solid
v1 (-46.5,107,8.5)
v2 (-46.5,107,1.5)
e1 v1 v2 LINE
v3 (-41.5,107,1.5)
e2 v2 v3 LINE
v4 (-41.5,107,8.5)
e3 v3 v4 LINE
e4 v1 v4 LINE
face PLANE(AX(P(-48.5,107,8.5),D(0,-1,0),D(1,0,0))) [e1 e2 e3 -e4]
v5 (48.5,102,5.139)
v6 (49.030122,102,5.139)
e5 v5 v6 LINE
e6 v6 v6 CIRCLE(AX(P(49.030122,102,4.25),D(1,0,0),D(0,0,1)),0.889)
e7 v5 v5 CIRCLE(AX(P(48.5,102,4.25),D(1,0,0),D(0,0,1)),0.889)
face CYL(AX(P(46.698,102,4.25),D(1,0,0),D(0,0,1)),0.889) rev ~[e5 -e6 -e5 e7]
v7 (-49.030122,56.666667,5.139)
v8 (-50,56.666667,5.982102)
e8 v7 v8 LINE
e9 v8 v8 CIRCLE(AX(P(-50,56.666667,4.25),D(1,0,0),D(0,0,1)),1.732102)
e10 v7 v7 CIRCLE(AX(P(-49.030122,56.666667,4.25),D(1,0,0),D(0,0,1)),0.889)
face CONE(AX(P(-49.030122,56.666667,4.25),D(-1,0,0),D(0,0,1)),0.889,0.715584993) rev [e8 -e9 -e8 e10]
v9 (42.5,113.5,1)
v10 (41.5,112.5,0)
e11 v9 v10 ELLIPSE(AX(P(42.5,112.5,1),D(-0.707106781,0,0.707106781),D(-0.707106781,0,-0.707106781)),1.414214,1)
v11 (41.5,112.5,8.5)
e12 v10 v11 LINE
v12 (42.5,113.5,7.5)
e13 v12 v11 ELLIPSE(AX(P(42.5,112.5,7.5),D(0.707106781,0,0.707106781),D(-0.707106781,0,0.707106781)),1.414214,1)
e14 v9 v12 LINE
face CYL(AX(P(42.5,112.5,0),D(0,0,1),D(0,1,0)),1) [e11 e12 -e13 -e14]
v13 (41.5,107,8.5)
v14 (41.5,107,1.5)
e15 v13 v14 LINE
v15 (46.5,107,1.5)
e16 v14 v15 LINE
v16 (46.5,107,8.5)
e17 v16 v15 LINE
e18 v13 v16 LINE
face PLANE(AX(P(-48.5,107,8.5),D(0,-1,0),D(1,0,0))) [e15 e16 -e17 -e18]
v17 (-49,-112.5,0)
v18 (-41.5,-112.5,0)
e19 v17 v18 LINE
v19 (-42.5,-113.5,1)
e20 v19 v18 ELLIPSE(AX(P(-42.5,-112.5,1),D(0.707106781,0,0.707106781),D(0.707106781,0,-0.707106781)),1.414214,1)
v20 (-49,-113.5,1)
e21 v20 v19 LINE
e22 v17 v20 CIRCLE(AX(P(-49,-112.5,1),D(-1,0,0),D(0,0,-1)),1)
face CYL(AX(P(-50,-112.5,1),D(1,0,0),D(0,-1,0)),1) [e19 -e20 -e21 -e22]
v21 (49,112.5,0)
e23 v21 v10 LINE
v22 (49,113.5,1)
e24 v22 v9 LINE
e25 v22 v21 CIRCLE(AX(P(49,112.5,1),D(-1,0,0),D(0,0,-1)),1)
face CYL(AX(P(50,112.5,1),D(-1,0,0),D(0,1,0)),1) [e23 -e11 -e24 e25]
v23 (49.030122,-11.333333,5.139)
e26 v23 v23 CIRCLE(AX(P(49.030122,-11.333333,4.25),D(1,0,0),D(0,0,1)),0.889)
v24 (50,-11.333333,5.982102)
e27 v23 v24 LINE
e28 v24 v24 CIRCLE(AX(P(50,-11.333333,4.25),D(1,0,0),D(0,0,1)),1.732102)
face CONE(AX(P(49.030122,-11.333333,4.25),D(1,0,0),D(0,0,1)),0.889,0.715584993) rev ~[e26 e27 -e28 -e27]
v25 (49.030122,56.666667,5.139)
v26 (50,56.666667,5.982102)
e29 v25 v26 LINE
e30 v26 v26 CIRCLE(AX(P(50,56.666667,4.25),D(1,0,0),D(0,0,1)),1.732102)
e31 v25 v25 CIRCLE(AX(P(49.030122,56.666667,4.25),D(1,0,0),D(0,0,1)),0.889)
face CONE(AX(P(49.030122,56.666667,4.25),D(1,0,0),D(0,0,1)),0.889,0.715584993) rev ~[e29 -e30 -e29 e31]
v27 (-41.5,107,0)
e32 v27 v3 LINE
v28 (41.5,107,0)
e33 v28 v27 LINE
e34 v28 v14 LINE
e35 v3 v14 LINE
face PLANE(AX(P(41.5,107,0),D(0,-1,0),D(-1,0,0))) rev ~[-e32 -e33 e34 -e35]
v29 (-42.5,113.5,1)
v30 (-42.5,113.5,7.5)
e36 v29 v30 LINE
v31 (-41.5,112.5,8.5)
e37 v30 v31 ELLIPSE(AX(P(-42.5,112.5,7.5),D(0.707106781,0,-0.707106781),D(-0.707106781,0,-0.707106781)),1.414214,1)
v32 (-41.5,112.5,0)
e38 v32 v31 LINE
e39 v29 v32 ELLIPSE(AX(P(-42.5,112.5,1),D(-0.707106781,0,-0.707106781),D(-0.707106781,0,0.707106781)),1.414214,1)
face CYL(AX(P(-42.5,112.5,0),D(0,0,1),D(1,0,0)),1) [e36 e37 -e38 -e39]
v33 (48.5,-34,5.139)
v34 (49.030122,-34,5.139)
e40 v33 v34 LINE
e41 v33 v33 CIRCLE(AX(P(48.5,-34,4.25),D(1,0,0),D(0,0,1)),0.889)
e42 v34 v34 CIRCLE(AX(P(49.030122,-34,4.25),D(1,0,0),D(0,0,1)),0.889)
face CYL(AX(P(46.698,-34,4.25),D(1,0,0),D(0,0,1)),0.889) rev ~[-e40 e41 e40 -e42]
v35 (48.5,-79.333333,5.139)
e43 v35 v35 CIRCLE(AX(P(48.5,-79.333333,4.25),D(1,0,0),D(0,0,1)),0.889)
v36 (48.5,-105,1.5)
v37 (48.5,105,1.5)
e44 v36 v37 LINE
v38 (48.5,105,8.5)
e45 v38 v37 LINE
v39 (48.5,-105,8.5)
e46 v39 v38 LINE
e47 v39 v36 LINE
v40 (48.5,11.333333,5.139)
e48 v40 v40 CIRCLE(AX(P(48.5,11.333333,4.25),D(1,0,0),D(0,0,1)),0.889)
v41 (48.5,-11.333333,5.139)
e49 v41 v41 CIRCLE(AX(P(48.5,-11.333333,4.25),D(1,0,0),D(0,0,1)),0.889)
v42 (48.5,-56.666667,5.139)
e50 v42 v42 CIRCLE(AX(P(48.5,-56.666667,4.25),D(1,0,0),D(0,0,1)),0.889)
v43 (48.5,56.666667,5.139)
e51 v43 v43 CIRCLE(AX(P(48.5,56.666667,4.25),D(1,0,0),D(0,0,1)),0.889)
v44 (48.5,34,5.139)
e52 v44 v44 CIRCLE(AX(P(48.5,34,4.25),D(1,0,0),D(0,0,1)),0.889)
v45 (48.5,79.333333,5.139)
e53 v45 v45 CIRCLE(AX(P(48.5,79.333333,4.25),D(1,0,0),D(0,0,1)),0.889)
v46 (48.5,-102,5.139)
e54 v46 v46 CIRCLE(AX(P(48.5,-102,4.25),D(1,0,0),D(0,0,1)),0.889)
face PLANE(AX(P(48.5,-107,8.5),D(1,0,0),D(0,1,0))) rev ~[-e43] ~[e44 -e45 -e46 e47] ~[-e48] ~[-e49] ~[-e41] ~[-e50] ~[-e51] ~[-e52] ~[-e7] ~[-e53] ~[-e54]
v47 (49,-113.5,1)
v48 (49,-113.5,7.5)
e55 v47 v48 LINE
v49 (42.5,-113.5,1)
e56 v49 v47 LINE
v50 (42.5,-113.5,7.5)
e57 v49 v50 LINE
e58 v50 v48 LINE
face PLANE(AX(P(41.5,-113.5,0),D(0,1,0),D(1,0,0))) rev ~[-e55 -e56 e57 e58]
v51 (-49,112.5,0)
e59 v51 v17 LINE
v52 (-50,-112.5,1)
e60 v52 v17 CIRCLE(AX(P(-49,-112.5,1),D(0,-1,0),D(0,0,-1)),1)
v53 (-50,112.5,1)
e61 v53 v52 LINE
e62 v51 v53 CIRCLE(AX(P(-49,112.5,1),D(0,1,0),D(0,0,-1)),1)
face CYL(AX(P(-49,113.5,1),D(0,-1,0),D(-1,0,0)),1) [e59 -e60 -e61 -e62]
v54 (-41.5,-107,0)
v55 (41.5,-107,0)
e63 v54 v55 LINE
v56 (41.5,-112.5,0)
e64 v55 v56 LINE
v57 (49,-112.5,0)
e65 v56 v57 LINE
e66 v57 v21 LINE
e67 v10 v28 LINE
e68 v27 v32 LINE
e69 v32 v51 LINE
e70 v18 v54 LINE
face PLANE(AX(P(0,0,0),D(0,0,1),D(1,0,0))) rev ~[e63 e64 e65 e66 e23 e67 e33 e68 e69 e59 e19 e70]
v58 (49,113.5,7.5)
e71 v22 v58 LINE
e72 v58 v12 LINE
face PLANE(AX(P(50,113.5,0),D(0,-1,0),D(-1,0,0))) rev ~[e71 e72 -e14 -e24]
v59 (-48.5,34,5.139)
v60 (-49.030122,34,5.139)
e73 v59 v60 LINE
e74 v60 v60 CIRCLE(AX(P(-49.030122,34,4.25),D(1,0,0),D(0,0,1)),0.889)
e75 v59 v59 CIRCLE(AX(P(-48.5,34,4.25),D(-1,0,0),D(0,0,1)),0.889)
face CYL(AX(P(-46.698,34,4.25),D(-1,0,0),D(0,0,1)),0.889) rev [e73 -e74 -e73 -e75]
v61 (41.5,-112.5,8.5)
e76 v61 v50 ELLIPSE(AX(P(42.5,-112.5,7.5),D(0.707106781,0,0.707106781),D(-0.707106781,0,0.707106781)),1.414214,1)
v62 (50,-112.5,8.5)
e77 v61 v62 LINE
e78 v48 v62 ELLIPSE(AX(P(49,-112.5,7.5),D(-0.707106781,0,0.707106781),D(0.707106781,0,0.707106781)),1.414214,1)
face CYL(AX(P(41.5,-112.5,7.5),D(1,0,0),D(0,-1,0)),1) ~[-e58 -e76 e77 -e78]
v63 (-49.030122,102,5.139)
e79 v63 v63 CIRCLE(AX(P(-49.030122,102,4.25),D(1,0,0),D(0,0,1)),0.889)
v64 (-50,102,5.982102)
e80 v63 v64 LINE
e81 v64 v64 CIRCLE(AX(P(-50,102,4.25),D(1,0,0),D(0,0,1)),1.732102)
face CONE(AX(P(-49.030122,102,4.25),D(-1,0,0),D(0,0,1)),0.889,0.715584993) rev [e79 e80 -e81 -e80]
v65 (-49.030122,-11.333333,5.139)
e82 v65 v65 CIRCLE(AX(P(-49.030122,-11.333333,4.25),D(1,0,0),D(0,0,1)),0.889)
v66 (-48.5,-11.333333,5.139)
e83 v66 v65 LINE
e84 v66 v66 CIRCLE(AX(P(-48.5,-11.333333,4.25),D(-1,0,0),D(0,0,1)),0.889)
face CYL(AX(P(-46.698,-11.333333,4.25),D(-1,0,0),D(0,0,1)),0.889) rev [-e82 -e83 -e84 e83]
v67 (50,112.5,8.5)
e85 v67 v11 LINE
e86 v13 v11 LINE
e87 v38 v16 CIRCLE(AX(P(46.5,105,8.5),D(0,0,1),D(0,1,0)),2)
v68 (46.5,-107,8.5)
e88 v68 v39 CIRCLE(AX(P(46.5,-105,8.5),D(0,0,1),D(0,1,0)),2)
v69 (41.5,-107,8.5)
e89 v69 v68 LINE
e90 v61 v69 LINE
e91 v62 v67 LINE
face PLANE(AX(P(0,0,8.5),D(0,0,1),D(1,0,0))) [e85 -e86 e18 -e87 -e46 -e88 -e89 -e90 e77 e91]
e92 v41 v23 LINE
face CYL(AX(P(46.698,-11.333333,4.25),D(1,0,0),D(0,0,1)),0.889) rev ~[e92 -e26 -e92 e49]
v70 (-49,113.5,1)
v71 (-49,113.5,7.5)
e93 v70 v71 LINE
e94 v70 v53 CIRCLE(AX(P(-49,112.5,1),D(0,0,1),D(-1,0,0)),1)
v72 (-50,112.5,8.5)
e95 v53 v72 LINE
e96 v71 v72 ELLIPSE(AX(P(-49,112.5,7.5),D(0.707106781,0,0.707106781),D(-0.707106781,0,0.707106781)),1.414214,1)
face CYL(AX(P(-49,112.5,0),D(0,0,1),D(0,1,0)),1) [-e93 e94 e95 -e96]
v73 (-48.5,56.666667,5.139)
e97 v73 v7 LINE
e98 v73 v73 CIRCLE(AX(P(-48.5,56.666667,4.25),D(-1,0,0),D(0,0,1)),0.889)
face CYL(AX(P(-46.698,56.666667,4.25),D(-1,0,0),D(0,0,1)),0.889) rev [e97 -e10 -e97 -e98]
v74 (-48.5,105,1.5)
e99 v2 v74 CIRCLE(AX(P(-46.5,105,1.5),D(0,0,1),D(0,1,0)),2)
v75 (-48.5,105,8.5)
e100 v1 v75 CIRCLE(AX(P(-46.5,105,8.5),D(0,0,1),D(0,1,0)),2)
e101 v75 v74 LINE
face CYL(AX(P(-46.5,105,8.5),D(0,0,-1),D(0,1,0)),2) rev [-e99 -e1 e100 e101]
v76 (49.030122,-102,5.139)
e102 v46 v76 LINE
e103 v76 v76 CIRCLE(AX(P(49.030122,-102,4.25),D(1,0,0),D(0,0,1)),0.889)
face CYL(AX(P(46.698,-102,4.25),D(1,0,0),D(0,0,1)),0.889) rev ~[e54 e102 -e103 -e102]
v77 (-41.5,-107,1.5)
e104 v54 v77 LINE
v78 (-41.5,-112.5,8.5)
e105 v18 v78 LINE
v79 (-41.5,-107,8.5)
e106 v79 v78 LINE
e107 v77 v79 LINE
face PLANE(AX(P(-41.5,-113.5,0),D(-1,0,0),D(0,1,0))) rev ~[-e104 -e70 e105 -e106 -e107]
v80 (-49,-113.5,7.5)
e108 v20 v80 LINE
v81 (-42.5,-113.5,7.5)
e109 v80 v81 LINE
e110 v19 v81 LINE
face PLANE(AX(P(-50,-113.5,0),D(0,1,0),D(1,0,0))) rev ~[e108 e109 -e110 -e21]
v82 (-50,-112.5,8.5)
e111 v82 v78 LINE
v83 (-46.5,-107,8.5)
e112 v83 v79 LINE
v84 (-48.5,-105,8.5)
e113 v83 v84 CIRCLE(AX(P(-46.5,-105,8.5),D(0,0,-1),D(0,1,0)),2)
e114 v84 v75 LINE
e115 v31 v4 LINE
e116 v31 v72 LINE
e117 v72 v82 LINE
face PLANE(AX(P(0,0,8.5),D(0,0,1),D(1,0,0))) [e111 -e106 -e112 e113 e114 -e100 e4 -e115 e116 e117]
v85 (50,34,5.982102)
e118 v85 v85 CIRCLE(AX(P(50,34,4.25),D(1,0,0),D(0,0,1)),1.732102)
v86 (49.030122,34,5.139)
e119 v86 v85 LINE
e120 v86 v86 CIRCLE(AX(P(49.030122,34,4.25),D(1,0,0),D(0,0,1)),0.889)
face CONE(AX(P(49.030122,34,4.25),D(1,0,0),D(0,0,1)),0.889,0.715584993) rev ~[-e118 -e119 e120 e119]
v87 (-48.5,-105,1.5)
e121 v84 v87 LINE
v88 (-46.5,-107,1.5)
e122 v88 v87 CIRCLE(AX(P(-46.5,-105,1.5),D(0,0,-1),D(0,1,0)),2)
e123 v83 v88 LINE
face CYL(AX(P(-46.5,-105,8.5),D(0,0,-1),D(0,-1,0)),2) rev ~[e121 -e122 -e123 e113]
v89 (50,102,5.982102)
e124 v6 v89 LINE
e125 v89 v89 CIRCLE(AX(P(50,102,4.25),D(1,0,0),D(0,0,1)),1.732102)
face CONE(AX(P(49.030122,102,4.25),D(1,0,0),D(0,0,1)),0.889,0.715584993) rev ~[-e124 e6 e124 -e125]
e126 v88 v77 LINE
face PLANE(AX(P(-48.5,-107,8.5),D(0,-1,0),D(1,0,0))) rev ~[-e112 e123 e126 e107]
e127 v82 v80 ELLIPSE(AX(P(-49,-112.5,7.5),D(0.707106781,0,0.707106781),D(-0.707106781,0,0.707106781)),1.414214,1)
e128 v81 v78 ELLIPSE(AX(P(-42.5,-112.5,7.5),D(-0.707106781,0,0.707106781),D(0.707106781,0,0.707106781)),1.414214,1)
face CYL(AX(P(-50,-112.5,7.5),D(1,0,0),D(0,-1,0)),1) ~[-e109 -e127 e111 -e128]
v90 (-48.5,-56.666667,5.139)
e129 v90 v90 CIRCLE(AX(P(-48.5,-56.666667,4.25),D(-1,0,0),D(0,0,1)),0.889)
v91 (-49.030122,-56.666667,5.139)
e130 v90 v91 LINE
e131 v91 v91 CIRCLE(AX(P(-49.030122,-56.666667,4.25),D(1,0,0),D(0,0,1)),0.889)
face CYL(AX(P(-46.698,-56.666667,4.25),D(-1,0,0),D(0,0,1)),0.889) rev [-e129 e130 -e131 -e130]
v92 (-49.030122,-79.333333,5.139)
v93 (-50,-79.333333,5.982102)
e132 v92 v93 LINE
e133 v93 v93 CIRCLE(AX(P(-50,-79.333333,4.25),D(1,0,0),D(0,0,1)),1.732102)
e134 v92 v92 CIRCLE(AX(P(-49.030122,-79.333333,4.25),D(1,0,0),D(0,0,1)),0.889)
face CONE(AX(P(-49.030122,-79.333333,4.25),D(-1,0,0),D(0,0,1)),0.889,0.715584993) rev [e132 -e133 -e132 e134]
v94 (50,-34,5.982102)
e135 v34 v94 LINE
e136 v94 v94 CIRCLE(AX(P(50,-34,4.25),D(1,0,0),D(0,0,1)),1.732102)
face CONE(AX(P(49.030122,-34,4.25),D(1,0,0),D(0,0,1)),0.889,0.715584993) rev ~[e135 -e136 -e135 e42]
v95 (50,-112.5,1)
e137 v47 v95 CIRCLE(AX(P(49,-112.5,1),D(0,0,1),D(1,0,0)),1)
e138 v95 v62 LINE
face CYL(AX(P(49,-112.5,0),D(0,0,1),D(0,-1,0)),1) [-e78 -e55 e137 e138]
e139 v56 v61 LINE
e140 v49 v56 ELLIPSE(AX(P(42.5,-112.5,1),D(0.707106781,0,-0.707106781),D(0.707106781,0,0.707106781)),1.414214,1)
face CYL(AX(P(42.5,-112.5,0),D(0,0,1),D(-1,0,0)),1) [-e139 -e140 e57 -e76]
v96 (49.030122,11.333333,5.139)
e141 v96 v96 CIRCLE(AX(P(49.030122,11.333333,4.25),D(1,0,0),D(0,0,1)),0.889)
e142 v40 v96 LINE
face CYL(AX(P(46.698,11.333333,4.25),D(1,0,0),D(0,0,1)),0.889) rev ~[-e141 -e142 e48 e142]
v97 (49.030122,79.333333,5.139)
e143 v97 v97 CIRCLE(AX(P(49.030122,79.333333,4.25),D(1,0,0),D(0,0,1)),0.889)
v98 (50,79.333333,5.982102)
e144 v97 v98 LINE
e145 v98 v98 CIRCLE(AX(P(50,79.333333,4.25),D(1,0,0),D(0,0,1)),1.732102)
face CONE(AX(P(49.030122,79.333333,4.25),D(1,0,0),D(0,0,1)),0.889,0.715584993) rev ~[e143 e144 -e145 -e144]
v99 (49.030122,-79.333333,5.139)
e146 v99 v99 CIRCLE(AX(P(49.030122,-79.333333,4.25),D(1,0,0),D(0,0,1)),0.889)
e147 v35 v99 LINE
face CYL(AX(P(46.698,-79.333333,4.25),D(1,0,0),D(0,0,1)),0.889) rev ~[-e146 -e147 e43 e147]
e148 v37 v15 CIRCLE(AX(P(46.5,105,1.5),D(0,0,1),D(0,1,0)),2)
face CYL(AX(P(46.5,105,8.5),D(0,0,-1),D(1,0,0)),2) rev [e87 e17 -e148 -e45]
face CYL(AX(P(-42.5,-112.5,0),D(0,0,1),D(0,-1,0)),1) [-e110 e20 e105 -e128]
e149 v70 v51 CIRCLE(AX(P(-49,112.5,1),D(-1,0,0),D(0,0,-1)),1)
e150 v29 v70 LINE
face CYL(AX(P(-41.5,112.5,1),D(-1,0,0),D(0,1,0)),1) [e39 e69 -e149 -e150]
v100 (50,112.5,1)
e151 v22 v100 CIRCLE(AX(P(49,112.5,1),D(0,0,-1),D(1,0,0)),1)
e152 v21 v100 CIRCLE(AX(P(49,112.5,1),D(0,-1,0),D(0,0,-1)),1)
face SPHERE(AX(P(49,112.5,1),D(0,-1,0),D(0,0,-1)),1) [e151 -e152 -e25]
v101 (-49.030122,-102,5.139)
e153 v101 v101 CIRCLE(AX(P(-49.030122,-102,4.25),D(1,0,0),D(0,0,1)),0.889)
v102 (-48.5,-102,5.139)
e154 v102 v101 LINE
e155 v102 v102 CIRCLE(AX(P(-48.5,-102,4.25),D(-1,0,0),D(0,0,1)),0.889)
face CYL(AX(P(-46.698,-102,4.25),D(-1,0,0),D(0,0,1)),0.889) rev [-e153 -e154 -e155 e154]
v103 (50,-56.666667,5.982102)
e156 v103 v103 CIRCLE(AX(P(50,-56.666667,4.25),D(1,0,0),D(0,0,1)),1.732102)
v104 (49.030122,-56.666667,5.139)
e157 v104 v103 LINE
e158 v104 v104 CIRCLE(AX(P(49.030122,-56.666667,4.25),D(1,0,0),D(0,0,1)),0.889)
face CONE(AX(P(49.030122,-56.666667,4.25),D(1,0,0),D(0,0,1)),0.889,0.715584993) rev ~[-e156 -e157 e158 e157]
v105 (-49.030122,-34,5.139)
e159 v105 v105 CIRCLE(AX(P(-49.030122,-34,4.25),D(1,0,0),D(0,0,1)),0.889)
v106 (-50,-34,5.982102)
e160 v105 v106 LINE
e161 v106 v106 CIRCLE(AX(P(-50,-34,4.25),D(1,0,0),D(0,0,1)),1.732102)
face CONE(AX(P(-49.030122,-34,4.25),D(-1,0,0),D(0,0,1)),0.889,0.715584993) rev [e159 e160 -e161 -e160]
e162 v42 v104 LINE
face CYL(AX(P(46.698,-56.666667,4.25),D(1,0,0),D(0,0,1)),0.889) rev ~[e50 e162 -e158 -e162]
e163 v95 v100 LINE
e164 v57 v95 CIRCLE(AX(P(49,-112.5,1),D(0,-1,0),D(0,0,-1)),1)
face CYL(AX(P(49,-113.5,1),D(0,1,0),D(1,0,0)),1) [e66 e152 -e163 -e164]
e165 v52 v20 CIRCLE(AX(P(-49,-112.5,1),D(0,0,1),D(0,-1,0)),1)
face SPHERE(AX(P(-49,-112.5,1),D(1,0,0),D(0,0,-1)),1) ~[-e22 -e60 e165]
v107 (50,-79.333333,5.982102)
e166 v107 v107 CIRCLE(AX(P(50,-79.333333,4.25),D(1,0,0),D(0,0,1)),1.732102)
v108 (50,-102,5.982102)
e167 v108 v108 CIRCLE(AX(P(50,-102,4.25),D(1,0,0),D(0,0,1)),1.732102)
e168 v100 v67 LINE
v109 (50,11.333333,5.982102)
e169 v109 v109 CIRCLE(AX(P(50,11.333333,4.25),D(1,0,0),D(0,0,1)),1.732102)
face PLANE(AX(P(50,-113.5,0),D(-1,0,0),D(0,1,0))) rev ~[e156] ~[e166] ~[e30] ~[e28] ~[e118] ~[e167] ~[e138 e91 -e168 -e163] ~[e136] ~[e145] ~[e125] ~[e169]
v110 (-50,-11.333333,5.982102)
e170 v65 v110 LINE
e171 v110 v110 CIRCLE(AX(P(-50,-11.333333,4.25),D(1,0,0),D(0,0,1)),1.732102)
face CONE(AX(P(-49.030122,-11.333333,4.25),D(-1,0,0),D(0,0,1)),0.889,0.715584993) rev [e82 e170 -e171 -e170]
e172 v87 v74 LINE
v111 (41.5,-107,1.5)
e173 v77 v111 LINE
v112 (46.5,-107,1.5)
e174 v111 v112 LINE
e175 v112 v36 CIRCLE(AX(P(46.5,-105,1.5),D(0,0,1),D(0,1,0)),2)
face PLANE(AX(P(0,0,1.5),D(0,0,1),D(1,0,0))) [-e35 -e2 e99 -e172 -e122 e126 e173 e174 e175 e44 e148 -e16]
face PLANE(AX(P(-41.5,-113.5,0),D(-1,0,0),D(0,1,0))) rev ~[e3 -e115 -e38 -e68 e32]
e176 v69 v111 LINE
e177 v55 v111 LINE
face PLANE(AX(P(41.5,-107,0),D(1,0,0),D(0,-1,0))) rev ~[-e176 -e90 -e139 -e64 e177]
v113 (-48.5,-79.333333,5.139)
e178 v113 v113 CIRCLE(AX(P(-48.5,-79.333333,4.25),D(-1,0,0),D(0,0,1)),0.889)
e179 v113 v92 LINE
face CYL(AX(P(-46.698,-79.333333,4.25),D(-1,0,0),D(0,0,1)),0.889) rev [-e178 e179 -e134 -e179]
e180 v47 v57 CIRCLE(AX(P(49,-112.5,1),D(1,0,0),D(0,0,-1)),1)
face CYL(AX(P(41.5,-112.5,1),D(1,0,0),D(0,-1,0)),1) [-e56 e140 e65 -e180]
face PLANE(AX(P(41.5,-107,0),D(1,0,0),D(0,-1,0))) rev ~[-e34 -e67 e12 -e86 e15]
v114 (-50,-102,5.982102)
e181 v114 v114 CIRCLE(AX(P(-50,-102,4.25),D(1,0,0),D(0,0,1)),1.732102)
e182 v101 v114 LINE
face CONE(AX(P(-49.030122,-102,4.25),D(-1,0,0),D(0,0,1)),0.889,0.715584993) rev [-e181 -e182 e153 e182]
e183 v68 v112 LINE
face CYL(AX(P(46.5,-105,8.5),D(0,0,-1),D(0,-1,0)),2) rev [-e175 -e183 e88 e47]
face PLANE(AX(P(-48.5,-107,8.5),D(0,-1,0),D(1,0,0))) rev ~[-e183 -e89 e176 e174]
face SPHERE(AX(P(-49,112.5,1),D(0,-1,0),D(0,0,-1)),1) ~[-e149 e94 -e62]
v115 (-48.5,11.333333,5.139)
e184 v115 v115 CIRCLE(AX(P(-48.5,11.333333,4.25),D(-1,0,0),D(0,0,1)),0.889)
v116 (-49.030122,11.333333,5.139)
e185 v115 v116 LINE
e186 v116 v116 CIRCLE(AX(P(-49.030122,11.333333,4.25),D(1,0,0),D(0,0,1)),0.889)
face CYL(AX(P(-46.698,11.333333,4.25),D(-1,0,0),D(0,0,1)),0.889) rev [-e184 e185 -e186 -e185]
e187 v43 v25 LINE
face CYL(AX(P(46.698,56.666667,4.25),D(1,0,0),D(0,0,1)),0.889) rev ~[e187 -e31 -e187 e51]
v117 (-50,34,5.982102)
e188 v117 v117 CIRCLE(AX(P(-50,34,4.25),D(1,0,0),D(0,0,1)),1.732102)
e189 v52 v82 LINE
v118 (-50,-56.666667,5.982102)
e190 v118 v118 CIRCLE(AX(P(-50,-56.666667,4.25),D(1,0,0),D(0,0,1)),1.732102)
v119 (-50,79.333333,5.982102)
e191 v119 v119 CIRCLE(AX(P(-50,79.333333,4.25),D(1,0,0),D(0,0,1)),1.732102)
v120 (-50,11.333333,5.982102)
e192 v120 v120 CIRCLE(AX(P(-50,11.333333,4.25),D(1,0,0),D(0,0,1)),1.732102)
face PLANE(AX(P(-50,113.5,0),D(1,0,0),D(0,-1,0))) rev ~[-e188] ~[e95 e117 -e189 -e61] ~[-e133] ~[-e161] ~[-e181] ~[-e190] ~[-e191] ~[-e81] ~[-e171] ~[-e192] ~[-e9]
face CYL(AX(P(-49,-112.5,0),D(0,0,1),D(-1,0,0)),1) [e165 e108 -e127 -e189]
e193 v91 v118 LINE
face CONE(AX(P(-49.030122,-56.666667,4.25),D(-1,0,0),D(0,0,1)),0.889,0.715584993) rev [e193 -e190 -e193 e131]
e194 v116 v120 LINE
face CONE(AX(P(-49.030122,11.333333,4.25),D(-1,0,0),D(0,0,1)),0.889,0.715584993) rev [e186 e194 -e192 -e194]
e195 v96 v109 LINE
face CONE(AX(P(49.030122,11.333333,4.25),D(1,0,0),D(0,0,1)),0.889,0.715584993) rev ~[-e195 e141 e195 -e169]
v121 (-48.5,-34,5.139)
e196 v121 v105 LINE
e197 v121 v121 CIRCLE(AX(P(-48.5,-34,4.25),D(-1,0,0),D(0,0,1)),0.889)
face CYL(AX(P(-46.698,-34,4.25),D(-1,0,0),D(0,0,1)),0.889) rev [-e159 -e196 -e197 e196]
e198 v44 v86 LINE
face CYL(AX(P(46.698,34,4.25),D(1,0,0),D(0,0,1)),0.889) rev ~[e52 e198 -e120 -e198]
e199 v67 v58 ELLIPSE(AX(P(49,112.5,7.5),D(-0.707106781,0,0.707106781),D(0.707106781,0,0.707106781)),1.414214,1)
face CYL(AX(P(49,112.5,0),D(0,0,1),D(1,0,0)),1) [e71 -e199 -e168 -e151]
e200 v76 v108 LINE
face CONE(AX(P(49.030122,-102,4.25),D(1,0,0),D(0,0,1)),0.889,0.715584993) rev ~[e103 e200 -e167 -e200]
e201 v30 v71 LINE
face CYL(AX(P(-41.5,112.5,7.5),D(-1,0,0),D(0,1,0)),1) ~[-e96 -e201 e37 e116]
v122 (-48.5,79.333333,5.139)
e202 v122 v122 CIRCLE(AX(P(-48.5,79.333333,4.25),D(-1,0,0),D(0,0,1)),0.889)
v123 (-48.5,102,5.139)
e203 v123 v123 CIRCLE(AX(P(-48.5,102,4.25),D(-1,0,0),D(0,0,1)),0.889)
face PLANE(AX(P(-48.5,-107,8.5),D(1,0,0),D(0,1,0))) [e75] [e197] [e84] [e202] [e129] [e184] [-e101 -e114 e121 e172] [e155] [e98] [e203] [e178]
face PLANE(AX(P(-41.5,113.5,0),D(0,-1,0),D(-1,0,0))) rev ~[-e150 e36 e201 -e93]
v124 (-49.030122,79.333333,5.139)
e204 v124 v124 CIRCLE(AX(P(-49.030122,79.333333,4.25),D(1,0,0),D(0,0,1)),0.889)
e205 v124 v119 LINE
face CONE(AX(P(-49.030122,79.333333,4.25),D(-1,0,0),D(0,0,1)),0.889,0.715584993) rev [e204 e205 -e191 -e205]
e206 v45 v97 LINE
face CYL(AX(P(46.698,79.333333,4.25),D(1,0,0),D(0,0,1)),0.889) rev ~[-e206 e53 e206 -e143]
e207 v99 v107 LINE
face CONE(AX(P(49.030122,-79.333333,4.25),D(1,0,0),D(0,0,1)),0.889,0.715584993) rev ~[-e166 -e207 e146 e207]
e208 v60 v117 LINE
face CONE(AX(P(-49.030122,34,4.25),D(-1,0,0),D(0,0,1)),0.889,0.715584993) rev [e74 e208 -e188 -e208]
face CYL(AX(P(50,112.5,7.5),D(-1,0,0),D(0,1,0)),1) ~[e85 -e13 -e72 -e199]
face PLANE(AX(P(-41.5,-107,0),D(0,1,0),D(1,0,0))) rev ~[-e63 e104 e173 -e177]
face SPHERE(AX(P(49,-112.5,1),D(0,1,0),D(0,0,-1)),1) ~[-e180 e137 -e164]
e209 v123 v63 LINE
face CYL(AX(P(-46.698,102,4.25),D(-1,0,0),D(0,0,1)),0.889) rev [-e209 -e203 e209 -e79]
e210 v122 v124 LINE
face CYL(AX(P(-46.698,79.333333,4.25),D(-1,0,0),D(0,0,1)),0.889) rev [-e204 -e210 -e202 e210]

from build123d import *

# Parameters (mm, degrees)
BOSS_EXTRUDE1_DEPTH                           = 8.5
FILLET1_R                                     = 1
SKETCH2_W                                     = 83
SKETCH2_H                                     = 214
CUT_EXTRUDE1_DEPTH                            = 7
SKETCH3_W                                     = 97
SKETCH3_H                                     = 214
CUT_EXTRUDE2_DEPTH                            = 7
FILLET2_R                                     = 2
CSK_FOR_0_FLAT_HEAD_MACHINE_SCREW1_AT_2_COUNT = 2
CSK_FOR_0_FLAT_HEAD_MACHINE_SCREW1_AT_2_PITCH = 22.666666667
CSK_FOR_0_FLAT_HEAD_MACHINE_SCREW1_AT_3_COUNT = 2
CSK_FOR_0_FLAT_HEAD_MACHINE_SCREW1_AT_3_PITCH = 45.333333333
CSK_FOR_0_FLAT_HEAD_MACHINE_SCREW1_AT_4_COUNT = 2
CSK_FOR_0_FLAT_HEAD_MACHINE_SCREW1_AT_4_PITCH = 68
CSK_FOR_0_FLAT_HEAD_MACHINE_SCREW1_AT_5_COUNT = 2
CSK_FOR_0_FLAT_HEAD_MACHINE_SCREW1_AT_5_PITCH = 90.666666667
CSK_FOR_0_FLAT_HEAD_MACHINE_SCREW1_AT_6_COUNT = 2
CSK_FOR_0_FLAT_HEAD_MACHINE_SCREW1_AT_6_PITCH = 113.333333333
CSK_FOR_0_FLAT_HEAD_MACHINE_SCREW1_AT_7_COUNT = 2
CSK_FOR_0_FLAT_HEAD_MACHINE_SCREW1_AT_7_PITCH = 136
CSK_FOR_0_FLAT_HEAD_MACHINE_SCREW1_AT_8_COUNT = 2
CSK_FOR_0_FLAT_HEAD_MACHINE_SCREW1_AT_8_PITCH = 158.666666667
CSK_FOR_0_FLAT_HEAD_MACHINE_SCREW1_AT_9_COUNT = 2
CSK_FOR_0_FLAT_HEAD_MACHINE_SCREW1_AT_9_PITCH = 181.333333333
CSK_FOR_0_FLAT_HEAD_MACHINE_SCREW1_AT_1_COUNT = 2
CSK_FOR_0_FLAT_HEAD_MACHINE_SCREW1_AT_1_PITCH = 204


with BuildPart() as part:
    # Sketch1 → Boss-Extrude1 (new body)
    with BuildSketch(Plane.XY):
        Polygon((-41.5, -107), (41.5, -107), (41.5, -113.5), (50, -113.5), (50, -107), (50, 107), (50, 113.5), (41.5, 113.5), (41.5, 107), (-41.5, 107), (-41.5, 113.5), (-50, 113.5), (-50, 107), (-50, -107), (-50, -113.5), (-41.5, -113.5), align=None)
    extrude(amount=BOSS_EXTRUDE1_DEPTH)

    # Fillet1
    fillet1_edges = [part.edges().sort_by_distance(p)[0] for p in [
        (50, 0, 0),
        (45.75, -113.5, 0),
        (-45.75, -113.5, 0),
        (-50, 0, 0),
        (-45.75, 113.5, 0),
        (-45.75, 113.5, 8.5),
        (45.75, 113.5, 0),
        (50, -113.5, 4.25),
        (41.5, -113.5, 4.25),
        (-41.5, -113.5, 4.25),
        (-50, -113.5, 4.25),
        (-50, 113.5, 4.25),
        (-41.5, 113.5, 4.25),
        (41.5, 113.5, 4.25),
        (50, 113.5, 4.25),
        (-45.75, -113.5, 8.5),
        (45.75, -113.5, 8.5),
        (45.75, 113.5, 8.5),
    ]]
    fillet(fillet1_edges, radius=FILLET1_R)

    # Sketch2 → Cut-Extrude1 (cut)
    with BuildSketch(Plane.XY.offset(8.5)):
        Rectangle(SKETCH2_W, SKETCH2_H)
    extrude(amount=-CUT_EXTRUDE1_DEPTH, mode=Mode.SUBTRACT)

    # Sketch3 → Cut-Extrude2 (cut)
    with BuildSketch(Plane.XY.offset(8.5)):
        Rectangle(SKETCH3_W, SKETCH3_H)
    extrude(amount=-CUT_EXTRUDE2_DEPTH, mode=Mode.SUBTRACT)

    # Fillet2
    fillet2_edges = [part.edges().sort_by_distance(p)[0] for p in [
        (-48.5, 107, 5),
        (48.5, -107, 5),
        (-48.5, -107, 5),
        (48.5, 107, 5),
    ]]
    fillet(fillet2_edges, radius=FILLET2_R)

    # Sketch4 → CSK for #0 Flat Head Machine Screw1 (revolve, cut)
    with BuildSketch(Plane(origin=(-50, 102, 4.25), x_dir=(0, 0, 1), z_dir=(0, 1, 0))):
        Polygon((0, 0), (0, 3.83616509), (0.889, 3.302), (0.889, 0.969878135), (1.7321022, 0), align=None)
    csk_for_0_flat_head_machine_screw1 = revolve(axis=Axis((-56.35, 102, 4.25), (1, 0, 0)), mode=Mode.SUBTRACT)

    # CSK for #0 Flat Head Machine Screw1 at 2: CSK for #0 Flat Head Machine Screw1 ×2
    with Locations(*[(0, -i * CSK_FOR_0_FLAT_HEAD_MACHINE_SCREW1_AT_2_PITCH, 0) for i in range(1, CSK_FOR_0_FLAT_HEAD_MACHINE_SCREW1_AT_2_COUNT)]):
        add(csk_for_0_flat_head_machine_screw1, mode=Mode.SUBTRACT)

    # CSK for #0 Flat Head Machine Screw1 at 3: CSK for #0 Flat Head Machine Screw1 ×2
    with Locations(*[(0, -i * CSK_FOR_0_FLAT_HEAD_MACHINE_SCREW1_AT_3_PITCH, 0) for i in range(1, CSK_FOR_0_FLAT_HEAD_MACHINE_SCREW1_AT_3_COUNT)]):
        add(csk_for_0_flat_head_machine_screw1, mode=Mode.SUBTRACT)

    # CSK for #0 Flat Head Machine Screw1 at 4: CSK for #0 Flat Head Machine Screw1 ×2
    with Locations(*[(0, -i * CSK_FOR_0_FLAT_HEAD_MACHINE_SCREW1_AT_4_PITCH, 0) for i in range(1, CSK_FOR_0_FLAT_HEAD_MACHINE_SCREW1_AT_4_COUNT)]):
        add(csk_for_0_flat_head_machine_screw1, mode=Mode.SUBTRACT)

    # CSK for #0 Flat Head Machine Screw1 at 5: CSK for #0 Flat Head Machine Screw1 ×2
    with Locations(*[(0, -i * CSK_FOR_0_FLAT_HEAD_MACHINE_SCREW1_AT_5_PITCH, 0) for i in range(1, CSK_FOR_0_FLAT_HEAD_MACHINE_SCREW1_AT_5_COUNT)]):
        add(csk_for_0_flat_head_machine_screw1, mode=Mode.SUBTRACT)

    # CSK for #0 Flat Head Machine Screw1 at 6: CSK for #0 Flat Head Machine Screw1 ×2
    with Locations(*[(0, -i * CSK_FOR_0_FLAT_HEAD_MACHINE_SCREW1_AT_6_PITCH, 0) for i in range(1, CSK_FOR_0_FLAT_HEAD_MACHINE_SCREW1_AT_6_COUNT)]):
        add(csk_for_0_flat_head_machine_screw1, mode=Mode.SUBTRACT)

    # CSK for #0 Flat Head Machine Screw1 at 7: CSK for #0 Flat Head Machine Screw1 ×2
    with Locations(*[(0, -i * CSK_FOR_0_FLAT_HEAD_MACHINE_SCREW1_AT_7_PITCH, 0) for i in range(1, CSK_FOR_0_FLAT_HEAD_MACHINE_SCREW1_AT_7_COUNT)]):
        add(csk_for_0_flat_head_machine_screw1, mode=Mode.SUBTRACT)

    # CSK for #0 Flat Head Machine Screw1 at 8: CSK for #0 Flat Head Machine Screw1 ×2
    with Locations(*[(0, -i * CSK_FOR_0_FLAT_HEAD_MACHINE_SCREW1_AT_8_PITCH, 0) for i in range(1, CSK_FOR_0_FLAT_HEAD_MACHINE_SCREW1_AT_8_COUNT)]):
        add(csk_for_0_flat_head_machine_screw1, mode=Mode.SUBTRACT)

    # CSK for #0 Flat Head Machine Screw1 at 9: CSK for #0 Flat Head Machine Screw1 ×2
    with Locations(*[(0, -i * CSK_FOR_0_FLAT_HEAD_MACHINE_SCREW1_AT_9_PITCH, 0) for i in range(1, CSK_FOR_0_FLAT_HEAD_MACHINE_SCREW1_AT_9_COUNT)]):
        add(csk_for_0_flat_head_machine_screw1, mode=Mode.SUBTRACT)

    # CSK for #0 Flat Head Machine Screw1 at 1: CSK for #0 Flat Head Machine Screw1 ×2
    with Locations(*[(0, -i * CSK_FOR_0_FLAT_HEAD_MACHINE_SCREW1_AT_1_PITCH, 0) for i in range(1, CSK_FOR_0_FLAT_HEAD_MACHINE_SCREW1_AT_1_COUNT)]):
        add(csk_for_0_flat_head_machine_screw1, mode=Mode.SUBTRACT)

    # Mirror1: CSK for #0 Flat Head Machine Screw1 across plane
    add(csk_for_0_flat_head_machine_screw1.mirror(Plane(origin=(0, 0, 0), x_dir=(0, 0, 1), z_dir=(1, 0, 0))), mode=Mode.SUBTRACT)

    # Mirror1 copy 1 sketch → Mirror1 copy 1 (revolve, cut)
    with BuildSketch(Plane(origin=(50, 79.333333333, 4.25), x_dir=(0, 0, 1), z_dir=(0, 1, 0))):
        Polygon((0, 0), (0, -3.83616509), (0.889, -3.302), (0.889, -0.969878135), (1.7321022, 0), align=None)
    revolve(axis=Axis((56.35, 79.333333333, 4.25), (1, 0, 0)), mode=Mode.SUBTRACT)

    # Mirror1 copy 2 sketch → Mirror1 copy 2 (revolve, cut)
    with BuildSketch(Plane(origin=(50, 56.666666667, 4.25), x_dir=(0, 0, 1), z_dir=(0, 1, 0))):
        Polygon((0, 0), (0, -3.83616509), (0.889, -3.302), (0.889, -0.969878135), (1.7321022, 0), align=None)
    revolve(axis=Axis((56.35, 56.666666667, 4.25), (1, 0, 0)), mode=Mode.SUBTRACT)

    # Mirror1 copy 3 sketch → Mirror1 copy 3 (revolve, cut)
    with BuildSketch(Plane(origin=(50, 34, 4.25), x_dir=(0, 0, 1), z_dir=(0, 1, 0))):
        Polygon((0, 0), (0, -3.83616509), (0.889, -3.302), (0.889, -0.969878135), (1.7321022, 0), align=None)
    revolve(axis=Axis((56.35, 34, 4.25), (1, 0, 0)), mode=Mode.SUBTRACT)

    # Mirror1 copy 4 sketch → Mirror1 copy 4 (revolve, cut)
    with BuildSketch(Plane(origin=(50, 11.333333333, 4.25), x_dir=(0, 0, 1), z_dir=(0, 1, 0))):
        Polygon((0, 0), (0, -3.83616509), (0.889, -3.302), (0.889, -0.969878135), (1.7321022, 0), align=None)
    revolve(axis=Axis((56.35, 11.333333333, 4.25), (1, 0, 0)), mode=Mode.SUBTRACT)

    # Mirror1 copy 5 sketch → Mirror1 copy 5 (revolve, cut)
    with BuildSketch(Plane(origin=(50, -11.333333333, 4.25), x_dir=(0, 0, 1), z_dir=(0, 1, 0))):
        Polygon((0, 0), (0, -3.83616509), (0.889, -3.302), (0.889, -0.969878135), (1.7321022, 0), align=None)
    revolve(axis=Axis((56.35, -11.333333333, 4.25), (1, 0, 0)), mode=Mode.SUBTRACT)

    # Mirror1 copy 6 sketch → Mirror1 copy 6 (revolve, cut)
    with BuildSketch(Plane(origin=(50, -34, 4.25), x_dir=(0, 0, 1), z_dir=(0, 1, 0))):
        Polygon((0, 0), (0, -3.83616509), (0.889, -3.302), (0.889, -0.969878135), (1.7321022, 0), align=None)
    revolve(axis=Axis((56.35, -34, 4.25), (1, 0, 0)), mode=Mode.SUBTRACT)

    # Mirror1 copy 7 sketch → Mirror1 copy 7 (revolve, cut)
    with BuildSketch(Plane(origin=(50, -56.666666667, 4.25), x_dir=(0, 0, 1), z_dir=(0, 1, 0))):
        Polygon((0, 0), (0, -3.83616509), (0.889, -3.302), (0.889, -0.969878135), (1.7321022, 0), align=None)
    revolve(axis=Axis((56.35, -56.666666667, 4.25), (1, 0, 0)), mode=Mode.SUBTRACT)

    # Mirror1 copy 8 sketch → Mirror1 copy 8 (revolve, cut)
    with BuildSketch(Plane(origin=(50, -79.333333333, 4.25), x_dir=(0, 0, 1), z_dir=(0, 1, 0))):
        Polygon((0, 0), (0, -3.83616509), (0.889, -3.302), (0.889, -0.969878135), (1.7321022, 0), align=None)
    revolve(axis=Axis((56.35, -79.333333333, 4.25), (1, 0, 0)), mode=Mode.SUBTRACT)

    # Mirror1 copy 9 sketch → Mirror1 copy 9 (revolve, cut)
    with BuildSketch(Plane(origin=(50, -102, 4.25), x_dir=(0, 0, 1), z_dir=(0, 1, 0))):
        Polygon((0, 0), (0, -3.83616509), (0.889, -3.302), (0.889, -0.969878135), (1.7321022, 0), align=None)
    revolve(axis=Axis((56.35, -102, 4.25), (1, 0, 0)), mode=Mode.SUBTRACT)


solid = part.part
